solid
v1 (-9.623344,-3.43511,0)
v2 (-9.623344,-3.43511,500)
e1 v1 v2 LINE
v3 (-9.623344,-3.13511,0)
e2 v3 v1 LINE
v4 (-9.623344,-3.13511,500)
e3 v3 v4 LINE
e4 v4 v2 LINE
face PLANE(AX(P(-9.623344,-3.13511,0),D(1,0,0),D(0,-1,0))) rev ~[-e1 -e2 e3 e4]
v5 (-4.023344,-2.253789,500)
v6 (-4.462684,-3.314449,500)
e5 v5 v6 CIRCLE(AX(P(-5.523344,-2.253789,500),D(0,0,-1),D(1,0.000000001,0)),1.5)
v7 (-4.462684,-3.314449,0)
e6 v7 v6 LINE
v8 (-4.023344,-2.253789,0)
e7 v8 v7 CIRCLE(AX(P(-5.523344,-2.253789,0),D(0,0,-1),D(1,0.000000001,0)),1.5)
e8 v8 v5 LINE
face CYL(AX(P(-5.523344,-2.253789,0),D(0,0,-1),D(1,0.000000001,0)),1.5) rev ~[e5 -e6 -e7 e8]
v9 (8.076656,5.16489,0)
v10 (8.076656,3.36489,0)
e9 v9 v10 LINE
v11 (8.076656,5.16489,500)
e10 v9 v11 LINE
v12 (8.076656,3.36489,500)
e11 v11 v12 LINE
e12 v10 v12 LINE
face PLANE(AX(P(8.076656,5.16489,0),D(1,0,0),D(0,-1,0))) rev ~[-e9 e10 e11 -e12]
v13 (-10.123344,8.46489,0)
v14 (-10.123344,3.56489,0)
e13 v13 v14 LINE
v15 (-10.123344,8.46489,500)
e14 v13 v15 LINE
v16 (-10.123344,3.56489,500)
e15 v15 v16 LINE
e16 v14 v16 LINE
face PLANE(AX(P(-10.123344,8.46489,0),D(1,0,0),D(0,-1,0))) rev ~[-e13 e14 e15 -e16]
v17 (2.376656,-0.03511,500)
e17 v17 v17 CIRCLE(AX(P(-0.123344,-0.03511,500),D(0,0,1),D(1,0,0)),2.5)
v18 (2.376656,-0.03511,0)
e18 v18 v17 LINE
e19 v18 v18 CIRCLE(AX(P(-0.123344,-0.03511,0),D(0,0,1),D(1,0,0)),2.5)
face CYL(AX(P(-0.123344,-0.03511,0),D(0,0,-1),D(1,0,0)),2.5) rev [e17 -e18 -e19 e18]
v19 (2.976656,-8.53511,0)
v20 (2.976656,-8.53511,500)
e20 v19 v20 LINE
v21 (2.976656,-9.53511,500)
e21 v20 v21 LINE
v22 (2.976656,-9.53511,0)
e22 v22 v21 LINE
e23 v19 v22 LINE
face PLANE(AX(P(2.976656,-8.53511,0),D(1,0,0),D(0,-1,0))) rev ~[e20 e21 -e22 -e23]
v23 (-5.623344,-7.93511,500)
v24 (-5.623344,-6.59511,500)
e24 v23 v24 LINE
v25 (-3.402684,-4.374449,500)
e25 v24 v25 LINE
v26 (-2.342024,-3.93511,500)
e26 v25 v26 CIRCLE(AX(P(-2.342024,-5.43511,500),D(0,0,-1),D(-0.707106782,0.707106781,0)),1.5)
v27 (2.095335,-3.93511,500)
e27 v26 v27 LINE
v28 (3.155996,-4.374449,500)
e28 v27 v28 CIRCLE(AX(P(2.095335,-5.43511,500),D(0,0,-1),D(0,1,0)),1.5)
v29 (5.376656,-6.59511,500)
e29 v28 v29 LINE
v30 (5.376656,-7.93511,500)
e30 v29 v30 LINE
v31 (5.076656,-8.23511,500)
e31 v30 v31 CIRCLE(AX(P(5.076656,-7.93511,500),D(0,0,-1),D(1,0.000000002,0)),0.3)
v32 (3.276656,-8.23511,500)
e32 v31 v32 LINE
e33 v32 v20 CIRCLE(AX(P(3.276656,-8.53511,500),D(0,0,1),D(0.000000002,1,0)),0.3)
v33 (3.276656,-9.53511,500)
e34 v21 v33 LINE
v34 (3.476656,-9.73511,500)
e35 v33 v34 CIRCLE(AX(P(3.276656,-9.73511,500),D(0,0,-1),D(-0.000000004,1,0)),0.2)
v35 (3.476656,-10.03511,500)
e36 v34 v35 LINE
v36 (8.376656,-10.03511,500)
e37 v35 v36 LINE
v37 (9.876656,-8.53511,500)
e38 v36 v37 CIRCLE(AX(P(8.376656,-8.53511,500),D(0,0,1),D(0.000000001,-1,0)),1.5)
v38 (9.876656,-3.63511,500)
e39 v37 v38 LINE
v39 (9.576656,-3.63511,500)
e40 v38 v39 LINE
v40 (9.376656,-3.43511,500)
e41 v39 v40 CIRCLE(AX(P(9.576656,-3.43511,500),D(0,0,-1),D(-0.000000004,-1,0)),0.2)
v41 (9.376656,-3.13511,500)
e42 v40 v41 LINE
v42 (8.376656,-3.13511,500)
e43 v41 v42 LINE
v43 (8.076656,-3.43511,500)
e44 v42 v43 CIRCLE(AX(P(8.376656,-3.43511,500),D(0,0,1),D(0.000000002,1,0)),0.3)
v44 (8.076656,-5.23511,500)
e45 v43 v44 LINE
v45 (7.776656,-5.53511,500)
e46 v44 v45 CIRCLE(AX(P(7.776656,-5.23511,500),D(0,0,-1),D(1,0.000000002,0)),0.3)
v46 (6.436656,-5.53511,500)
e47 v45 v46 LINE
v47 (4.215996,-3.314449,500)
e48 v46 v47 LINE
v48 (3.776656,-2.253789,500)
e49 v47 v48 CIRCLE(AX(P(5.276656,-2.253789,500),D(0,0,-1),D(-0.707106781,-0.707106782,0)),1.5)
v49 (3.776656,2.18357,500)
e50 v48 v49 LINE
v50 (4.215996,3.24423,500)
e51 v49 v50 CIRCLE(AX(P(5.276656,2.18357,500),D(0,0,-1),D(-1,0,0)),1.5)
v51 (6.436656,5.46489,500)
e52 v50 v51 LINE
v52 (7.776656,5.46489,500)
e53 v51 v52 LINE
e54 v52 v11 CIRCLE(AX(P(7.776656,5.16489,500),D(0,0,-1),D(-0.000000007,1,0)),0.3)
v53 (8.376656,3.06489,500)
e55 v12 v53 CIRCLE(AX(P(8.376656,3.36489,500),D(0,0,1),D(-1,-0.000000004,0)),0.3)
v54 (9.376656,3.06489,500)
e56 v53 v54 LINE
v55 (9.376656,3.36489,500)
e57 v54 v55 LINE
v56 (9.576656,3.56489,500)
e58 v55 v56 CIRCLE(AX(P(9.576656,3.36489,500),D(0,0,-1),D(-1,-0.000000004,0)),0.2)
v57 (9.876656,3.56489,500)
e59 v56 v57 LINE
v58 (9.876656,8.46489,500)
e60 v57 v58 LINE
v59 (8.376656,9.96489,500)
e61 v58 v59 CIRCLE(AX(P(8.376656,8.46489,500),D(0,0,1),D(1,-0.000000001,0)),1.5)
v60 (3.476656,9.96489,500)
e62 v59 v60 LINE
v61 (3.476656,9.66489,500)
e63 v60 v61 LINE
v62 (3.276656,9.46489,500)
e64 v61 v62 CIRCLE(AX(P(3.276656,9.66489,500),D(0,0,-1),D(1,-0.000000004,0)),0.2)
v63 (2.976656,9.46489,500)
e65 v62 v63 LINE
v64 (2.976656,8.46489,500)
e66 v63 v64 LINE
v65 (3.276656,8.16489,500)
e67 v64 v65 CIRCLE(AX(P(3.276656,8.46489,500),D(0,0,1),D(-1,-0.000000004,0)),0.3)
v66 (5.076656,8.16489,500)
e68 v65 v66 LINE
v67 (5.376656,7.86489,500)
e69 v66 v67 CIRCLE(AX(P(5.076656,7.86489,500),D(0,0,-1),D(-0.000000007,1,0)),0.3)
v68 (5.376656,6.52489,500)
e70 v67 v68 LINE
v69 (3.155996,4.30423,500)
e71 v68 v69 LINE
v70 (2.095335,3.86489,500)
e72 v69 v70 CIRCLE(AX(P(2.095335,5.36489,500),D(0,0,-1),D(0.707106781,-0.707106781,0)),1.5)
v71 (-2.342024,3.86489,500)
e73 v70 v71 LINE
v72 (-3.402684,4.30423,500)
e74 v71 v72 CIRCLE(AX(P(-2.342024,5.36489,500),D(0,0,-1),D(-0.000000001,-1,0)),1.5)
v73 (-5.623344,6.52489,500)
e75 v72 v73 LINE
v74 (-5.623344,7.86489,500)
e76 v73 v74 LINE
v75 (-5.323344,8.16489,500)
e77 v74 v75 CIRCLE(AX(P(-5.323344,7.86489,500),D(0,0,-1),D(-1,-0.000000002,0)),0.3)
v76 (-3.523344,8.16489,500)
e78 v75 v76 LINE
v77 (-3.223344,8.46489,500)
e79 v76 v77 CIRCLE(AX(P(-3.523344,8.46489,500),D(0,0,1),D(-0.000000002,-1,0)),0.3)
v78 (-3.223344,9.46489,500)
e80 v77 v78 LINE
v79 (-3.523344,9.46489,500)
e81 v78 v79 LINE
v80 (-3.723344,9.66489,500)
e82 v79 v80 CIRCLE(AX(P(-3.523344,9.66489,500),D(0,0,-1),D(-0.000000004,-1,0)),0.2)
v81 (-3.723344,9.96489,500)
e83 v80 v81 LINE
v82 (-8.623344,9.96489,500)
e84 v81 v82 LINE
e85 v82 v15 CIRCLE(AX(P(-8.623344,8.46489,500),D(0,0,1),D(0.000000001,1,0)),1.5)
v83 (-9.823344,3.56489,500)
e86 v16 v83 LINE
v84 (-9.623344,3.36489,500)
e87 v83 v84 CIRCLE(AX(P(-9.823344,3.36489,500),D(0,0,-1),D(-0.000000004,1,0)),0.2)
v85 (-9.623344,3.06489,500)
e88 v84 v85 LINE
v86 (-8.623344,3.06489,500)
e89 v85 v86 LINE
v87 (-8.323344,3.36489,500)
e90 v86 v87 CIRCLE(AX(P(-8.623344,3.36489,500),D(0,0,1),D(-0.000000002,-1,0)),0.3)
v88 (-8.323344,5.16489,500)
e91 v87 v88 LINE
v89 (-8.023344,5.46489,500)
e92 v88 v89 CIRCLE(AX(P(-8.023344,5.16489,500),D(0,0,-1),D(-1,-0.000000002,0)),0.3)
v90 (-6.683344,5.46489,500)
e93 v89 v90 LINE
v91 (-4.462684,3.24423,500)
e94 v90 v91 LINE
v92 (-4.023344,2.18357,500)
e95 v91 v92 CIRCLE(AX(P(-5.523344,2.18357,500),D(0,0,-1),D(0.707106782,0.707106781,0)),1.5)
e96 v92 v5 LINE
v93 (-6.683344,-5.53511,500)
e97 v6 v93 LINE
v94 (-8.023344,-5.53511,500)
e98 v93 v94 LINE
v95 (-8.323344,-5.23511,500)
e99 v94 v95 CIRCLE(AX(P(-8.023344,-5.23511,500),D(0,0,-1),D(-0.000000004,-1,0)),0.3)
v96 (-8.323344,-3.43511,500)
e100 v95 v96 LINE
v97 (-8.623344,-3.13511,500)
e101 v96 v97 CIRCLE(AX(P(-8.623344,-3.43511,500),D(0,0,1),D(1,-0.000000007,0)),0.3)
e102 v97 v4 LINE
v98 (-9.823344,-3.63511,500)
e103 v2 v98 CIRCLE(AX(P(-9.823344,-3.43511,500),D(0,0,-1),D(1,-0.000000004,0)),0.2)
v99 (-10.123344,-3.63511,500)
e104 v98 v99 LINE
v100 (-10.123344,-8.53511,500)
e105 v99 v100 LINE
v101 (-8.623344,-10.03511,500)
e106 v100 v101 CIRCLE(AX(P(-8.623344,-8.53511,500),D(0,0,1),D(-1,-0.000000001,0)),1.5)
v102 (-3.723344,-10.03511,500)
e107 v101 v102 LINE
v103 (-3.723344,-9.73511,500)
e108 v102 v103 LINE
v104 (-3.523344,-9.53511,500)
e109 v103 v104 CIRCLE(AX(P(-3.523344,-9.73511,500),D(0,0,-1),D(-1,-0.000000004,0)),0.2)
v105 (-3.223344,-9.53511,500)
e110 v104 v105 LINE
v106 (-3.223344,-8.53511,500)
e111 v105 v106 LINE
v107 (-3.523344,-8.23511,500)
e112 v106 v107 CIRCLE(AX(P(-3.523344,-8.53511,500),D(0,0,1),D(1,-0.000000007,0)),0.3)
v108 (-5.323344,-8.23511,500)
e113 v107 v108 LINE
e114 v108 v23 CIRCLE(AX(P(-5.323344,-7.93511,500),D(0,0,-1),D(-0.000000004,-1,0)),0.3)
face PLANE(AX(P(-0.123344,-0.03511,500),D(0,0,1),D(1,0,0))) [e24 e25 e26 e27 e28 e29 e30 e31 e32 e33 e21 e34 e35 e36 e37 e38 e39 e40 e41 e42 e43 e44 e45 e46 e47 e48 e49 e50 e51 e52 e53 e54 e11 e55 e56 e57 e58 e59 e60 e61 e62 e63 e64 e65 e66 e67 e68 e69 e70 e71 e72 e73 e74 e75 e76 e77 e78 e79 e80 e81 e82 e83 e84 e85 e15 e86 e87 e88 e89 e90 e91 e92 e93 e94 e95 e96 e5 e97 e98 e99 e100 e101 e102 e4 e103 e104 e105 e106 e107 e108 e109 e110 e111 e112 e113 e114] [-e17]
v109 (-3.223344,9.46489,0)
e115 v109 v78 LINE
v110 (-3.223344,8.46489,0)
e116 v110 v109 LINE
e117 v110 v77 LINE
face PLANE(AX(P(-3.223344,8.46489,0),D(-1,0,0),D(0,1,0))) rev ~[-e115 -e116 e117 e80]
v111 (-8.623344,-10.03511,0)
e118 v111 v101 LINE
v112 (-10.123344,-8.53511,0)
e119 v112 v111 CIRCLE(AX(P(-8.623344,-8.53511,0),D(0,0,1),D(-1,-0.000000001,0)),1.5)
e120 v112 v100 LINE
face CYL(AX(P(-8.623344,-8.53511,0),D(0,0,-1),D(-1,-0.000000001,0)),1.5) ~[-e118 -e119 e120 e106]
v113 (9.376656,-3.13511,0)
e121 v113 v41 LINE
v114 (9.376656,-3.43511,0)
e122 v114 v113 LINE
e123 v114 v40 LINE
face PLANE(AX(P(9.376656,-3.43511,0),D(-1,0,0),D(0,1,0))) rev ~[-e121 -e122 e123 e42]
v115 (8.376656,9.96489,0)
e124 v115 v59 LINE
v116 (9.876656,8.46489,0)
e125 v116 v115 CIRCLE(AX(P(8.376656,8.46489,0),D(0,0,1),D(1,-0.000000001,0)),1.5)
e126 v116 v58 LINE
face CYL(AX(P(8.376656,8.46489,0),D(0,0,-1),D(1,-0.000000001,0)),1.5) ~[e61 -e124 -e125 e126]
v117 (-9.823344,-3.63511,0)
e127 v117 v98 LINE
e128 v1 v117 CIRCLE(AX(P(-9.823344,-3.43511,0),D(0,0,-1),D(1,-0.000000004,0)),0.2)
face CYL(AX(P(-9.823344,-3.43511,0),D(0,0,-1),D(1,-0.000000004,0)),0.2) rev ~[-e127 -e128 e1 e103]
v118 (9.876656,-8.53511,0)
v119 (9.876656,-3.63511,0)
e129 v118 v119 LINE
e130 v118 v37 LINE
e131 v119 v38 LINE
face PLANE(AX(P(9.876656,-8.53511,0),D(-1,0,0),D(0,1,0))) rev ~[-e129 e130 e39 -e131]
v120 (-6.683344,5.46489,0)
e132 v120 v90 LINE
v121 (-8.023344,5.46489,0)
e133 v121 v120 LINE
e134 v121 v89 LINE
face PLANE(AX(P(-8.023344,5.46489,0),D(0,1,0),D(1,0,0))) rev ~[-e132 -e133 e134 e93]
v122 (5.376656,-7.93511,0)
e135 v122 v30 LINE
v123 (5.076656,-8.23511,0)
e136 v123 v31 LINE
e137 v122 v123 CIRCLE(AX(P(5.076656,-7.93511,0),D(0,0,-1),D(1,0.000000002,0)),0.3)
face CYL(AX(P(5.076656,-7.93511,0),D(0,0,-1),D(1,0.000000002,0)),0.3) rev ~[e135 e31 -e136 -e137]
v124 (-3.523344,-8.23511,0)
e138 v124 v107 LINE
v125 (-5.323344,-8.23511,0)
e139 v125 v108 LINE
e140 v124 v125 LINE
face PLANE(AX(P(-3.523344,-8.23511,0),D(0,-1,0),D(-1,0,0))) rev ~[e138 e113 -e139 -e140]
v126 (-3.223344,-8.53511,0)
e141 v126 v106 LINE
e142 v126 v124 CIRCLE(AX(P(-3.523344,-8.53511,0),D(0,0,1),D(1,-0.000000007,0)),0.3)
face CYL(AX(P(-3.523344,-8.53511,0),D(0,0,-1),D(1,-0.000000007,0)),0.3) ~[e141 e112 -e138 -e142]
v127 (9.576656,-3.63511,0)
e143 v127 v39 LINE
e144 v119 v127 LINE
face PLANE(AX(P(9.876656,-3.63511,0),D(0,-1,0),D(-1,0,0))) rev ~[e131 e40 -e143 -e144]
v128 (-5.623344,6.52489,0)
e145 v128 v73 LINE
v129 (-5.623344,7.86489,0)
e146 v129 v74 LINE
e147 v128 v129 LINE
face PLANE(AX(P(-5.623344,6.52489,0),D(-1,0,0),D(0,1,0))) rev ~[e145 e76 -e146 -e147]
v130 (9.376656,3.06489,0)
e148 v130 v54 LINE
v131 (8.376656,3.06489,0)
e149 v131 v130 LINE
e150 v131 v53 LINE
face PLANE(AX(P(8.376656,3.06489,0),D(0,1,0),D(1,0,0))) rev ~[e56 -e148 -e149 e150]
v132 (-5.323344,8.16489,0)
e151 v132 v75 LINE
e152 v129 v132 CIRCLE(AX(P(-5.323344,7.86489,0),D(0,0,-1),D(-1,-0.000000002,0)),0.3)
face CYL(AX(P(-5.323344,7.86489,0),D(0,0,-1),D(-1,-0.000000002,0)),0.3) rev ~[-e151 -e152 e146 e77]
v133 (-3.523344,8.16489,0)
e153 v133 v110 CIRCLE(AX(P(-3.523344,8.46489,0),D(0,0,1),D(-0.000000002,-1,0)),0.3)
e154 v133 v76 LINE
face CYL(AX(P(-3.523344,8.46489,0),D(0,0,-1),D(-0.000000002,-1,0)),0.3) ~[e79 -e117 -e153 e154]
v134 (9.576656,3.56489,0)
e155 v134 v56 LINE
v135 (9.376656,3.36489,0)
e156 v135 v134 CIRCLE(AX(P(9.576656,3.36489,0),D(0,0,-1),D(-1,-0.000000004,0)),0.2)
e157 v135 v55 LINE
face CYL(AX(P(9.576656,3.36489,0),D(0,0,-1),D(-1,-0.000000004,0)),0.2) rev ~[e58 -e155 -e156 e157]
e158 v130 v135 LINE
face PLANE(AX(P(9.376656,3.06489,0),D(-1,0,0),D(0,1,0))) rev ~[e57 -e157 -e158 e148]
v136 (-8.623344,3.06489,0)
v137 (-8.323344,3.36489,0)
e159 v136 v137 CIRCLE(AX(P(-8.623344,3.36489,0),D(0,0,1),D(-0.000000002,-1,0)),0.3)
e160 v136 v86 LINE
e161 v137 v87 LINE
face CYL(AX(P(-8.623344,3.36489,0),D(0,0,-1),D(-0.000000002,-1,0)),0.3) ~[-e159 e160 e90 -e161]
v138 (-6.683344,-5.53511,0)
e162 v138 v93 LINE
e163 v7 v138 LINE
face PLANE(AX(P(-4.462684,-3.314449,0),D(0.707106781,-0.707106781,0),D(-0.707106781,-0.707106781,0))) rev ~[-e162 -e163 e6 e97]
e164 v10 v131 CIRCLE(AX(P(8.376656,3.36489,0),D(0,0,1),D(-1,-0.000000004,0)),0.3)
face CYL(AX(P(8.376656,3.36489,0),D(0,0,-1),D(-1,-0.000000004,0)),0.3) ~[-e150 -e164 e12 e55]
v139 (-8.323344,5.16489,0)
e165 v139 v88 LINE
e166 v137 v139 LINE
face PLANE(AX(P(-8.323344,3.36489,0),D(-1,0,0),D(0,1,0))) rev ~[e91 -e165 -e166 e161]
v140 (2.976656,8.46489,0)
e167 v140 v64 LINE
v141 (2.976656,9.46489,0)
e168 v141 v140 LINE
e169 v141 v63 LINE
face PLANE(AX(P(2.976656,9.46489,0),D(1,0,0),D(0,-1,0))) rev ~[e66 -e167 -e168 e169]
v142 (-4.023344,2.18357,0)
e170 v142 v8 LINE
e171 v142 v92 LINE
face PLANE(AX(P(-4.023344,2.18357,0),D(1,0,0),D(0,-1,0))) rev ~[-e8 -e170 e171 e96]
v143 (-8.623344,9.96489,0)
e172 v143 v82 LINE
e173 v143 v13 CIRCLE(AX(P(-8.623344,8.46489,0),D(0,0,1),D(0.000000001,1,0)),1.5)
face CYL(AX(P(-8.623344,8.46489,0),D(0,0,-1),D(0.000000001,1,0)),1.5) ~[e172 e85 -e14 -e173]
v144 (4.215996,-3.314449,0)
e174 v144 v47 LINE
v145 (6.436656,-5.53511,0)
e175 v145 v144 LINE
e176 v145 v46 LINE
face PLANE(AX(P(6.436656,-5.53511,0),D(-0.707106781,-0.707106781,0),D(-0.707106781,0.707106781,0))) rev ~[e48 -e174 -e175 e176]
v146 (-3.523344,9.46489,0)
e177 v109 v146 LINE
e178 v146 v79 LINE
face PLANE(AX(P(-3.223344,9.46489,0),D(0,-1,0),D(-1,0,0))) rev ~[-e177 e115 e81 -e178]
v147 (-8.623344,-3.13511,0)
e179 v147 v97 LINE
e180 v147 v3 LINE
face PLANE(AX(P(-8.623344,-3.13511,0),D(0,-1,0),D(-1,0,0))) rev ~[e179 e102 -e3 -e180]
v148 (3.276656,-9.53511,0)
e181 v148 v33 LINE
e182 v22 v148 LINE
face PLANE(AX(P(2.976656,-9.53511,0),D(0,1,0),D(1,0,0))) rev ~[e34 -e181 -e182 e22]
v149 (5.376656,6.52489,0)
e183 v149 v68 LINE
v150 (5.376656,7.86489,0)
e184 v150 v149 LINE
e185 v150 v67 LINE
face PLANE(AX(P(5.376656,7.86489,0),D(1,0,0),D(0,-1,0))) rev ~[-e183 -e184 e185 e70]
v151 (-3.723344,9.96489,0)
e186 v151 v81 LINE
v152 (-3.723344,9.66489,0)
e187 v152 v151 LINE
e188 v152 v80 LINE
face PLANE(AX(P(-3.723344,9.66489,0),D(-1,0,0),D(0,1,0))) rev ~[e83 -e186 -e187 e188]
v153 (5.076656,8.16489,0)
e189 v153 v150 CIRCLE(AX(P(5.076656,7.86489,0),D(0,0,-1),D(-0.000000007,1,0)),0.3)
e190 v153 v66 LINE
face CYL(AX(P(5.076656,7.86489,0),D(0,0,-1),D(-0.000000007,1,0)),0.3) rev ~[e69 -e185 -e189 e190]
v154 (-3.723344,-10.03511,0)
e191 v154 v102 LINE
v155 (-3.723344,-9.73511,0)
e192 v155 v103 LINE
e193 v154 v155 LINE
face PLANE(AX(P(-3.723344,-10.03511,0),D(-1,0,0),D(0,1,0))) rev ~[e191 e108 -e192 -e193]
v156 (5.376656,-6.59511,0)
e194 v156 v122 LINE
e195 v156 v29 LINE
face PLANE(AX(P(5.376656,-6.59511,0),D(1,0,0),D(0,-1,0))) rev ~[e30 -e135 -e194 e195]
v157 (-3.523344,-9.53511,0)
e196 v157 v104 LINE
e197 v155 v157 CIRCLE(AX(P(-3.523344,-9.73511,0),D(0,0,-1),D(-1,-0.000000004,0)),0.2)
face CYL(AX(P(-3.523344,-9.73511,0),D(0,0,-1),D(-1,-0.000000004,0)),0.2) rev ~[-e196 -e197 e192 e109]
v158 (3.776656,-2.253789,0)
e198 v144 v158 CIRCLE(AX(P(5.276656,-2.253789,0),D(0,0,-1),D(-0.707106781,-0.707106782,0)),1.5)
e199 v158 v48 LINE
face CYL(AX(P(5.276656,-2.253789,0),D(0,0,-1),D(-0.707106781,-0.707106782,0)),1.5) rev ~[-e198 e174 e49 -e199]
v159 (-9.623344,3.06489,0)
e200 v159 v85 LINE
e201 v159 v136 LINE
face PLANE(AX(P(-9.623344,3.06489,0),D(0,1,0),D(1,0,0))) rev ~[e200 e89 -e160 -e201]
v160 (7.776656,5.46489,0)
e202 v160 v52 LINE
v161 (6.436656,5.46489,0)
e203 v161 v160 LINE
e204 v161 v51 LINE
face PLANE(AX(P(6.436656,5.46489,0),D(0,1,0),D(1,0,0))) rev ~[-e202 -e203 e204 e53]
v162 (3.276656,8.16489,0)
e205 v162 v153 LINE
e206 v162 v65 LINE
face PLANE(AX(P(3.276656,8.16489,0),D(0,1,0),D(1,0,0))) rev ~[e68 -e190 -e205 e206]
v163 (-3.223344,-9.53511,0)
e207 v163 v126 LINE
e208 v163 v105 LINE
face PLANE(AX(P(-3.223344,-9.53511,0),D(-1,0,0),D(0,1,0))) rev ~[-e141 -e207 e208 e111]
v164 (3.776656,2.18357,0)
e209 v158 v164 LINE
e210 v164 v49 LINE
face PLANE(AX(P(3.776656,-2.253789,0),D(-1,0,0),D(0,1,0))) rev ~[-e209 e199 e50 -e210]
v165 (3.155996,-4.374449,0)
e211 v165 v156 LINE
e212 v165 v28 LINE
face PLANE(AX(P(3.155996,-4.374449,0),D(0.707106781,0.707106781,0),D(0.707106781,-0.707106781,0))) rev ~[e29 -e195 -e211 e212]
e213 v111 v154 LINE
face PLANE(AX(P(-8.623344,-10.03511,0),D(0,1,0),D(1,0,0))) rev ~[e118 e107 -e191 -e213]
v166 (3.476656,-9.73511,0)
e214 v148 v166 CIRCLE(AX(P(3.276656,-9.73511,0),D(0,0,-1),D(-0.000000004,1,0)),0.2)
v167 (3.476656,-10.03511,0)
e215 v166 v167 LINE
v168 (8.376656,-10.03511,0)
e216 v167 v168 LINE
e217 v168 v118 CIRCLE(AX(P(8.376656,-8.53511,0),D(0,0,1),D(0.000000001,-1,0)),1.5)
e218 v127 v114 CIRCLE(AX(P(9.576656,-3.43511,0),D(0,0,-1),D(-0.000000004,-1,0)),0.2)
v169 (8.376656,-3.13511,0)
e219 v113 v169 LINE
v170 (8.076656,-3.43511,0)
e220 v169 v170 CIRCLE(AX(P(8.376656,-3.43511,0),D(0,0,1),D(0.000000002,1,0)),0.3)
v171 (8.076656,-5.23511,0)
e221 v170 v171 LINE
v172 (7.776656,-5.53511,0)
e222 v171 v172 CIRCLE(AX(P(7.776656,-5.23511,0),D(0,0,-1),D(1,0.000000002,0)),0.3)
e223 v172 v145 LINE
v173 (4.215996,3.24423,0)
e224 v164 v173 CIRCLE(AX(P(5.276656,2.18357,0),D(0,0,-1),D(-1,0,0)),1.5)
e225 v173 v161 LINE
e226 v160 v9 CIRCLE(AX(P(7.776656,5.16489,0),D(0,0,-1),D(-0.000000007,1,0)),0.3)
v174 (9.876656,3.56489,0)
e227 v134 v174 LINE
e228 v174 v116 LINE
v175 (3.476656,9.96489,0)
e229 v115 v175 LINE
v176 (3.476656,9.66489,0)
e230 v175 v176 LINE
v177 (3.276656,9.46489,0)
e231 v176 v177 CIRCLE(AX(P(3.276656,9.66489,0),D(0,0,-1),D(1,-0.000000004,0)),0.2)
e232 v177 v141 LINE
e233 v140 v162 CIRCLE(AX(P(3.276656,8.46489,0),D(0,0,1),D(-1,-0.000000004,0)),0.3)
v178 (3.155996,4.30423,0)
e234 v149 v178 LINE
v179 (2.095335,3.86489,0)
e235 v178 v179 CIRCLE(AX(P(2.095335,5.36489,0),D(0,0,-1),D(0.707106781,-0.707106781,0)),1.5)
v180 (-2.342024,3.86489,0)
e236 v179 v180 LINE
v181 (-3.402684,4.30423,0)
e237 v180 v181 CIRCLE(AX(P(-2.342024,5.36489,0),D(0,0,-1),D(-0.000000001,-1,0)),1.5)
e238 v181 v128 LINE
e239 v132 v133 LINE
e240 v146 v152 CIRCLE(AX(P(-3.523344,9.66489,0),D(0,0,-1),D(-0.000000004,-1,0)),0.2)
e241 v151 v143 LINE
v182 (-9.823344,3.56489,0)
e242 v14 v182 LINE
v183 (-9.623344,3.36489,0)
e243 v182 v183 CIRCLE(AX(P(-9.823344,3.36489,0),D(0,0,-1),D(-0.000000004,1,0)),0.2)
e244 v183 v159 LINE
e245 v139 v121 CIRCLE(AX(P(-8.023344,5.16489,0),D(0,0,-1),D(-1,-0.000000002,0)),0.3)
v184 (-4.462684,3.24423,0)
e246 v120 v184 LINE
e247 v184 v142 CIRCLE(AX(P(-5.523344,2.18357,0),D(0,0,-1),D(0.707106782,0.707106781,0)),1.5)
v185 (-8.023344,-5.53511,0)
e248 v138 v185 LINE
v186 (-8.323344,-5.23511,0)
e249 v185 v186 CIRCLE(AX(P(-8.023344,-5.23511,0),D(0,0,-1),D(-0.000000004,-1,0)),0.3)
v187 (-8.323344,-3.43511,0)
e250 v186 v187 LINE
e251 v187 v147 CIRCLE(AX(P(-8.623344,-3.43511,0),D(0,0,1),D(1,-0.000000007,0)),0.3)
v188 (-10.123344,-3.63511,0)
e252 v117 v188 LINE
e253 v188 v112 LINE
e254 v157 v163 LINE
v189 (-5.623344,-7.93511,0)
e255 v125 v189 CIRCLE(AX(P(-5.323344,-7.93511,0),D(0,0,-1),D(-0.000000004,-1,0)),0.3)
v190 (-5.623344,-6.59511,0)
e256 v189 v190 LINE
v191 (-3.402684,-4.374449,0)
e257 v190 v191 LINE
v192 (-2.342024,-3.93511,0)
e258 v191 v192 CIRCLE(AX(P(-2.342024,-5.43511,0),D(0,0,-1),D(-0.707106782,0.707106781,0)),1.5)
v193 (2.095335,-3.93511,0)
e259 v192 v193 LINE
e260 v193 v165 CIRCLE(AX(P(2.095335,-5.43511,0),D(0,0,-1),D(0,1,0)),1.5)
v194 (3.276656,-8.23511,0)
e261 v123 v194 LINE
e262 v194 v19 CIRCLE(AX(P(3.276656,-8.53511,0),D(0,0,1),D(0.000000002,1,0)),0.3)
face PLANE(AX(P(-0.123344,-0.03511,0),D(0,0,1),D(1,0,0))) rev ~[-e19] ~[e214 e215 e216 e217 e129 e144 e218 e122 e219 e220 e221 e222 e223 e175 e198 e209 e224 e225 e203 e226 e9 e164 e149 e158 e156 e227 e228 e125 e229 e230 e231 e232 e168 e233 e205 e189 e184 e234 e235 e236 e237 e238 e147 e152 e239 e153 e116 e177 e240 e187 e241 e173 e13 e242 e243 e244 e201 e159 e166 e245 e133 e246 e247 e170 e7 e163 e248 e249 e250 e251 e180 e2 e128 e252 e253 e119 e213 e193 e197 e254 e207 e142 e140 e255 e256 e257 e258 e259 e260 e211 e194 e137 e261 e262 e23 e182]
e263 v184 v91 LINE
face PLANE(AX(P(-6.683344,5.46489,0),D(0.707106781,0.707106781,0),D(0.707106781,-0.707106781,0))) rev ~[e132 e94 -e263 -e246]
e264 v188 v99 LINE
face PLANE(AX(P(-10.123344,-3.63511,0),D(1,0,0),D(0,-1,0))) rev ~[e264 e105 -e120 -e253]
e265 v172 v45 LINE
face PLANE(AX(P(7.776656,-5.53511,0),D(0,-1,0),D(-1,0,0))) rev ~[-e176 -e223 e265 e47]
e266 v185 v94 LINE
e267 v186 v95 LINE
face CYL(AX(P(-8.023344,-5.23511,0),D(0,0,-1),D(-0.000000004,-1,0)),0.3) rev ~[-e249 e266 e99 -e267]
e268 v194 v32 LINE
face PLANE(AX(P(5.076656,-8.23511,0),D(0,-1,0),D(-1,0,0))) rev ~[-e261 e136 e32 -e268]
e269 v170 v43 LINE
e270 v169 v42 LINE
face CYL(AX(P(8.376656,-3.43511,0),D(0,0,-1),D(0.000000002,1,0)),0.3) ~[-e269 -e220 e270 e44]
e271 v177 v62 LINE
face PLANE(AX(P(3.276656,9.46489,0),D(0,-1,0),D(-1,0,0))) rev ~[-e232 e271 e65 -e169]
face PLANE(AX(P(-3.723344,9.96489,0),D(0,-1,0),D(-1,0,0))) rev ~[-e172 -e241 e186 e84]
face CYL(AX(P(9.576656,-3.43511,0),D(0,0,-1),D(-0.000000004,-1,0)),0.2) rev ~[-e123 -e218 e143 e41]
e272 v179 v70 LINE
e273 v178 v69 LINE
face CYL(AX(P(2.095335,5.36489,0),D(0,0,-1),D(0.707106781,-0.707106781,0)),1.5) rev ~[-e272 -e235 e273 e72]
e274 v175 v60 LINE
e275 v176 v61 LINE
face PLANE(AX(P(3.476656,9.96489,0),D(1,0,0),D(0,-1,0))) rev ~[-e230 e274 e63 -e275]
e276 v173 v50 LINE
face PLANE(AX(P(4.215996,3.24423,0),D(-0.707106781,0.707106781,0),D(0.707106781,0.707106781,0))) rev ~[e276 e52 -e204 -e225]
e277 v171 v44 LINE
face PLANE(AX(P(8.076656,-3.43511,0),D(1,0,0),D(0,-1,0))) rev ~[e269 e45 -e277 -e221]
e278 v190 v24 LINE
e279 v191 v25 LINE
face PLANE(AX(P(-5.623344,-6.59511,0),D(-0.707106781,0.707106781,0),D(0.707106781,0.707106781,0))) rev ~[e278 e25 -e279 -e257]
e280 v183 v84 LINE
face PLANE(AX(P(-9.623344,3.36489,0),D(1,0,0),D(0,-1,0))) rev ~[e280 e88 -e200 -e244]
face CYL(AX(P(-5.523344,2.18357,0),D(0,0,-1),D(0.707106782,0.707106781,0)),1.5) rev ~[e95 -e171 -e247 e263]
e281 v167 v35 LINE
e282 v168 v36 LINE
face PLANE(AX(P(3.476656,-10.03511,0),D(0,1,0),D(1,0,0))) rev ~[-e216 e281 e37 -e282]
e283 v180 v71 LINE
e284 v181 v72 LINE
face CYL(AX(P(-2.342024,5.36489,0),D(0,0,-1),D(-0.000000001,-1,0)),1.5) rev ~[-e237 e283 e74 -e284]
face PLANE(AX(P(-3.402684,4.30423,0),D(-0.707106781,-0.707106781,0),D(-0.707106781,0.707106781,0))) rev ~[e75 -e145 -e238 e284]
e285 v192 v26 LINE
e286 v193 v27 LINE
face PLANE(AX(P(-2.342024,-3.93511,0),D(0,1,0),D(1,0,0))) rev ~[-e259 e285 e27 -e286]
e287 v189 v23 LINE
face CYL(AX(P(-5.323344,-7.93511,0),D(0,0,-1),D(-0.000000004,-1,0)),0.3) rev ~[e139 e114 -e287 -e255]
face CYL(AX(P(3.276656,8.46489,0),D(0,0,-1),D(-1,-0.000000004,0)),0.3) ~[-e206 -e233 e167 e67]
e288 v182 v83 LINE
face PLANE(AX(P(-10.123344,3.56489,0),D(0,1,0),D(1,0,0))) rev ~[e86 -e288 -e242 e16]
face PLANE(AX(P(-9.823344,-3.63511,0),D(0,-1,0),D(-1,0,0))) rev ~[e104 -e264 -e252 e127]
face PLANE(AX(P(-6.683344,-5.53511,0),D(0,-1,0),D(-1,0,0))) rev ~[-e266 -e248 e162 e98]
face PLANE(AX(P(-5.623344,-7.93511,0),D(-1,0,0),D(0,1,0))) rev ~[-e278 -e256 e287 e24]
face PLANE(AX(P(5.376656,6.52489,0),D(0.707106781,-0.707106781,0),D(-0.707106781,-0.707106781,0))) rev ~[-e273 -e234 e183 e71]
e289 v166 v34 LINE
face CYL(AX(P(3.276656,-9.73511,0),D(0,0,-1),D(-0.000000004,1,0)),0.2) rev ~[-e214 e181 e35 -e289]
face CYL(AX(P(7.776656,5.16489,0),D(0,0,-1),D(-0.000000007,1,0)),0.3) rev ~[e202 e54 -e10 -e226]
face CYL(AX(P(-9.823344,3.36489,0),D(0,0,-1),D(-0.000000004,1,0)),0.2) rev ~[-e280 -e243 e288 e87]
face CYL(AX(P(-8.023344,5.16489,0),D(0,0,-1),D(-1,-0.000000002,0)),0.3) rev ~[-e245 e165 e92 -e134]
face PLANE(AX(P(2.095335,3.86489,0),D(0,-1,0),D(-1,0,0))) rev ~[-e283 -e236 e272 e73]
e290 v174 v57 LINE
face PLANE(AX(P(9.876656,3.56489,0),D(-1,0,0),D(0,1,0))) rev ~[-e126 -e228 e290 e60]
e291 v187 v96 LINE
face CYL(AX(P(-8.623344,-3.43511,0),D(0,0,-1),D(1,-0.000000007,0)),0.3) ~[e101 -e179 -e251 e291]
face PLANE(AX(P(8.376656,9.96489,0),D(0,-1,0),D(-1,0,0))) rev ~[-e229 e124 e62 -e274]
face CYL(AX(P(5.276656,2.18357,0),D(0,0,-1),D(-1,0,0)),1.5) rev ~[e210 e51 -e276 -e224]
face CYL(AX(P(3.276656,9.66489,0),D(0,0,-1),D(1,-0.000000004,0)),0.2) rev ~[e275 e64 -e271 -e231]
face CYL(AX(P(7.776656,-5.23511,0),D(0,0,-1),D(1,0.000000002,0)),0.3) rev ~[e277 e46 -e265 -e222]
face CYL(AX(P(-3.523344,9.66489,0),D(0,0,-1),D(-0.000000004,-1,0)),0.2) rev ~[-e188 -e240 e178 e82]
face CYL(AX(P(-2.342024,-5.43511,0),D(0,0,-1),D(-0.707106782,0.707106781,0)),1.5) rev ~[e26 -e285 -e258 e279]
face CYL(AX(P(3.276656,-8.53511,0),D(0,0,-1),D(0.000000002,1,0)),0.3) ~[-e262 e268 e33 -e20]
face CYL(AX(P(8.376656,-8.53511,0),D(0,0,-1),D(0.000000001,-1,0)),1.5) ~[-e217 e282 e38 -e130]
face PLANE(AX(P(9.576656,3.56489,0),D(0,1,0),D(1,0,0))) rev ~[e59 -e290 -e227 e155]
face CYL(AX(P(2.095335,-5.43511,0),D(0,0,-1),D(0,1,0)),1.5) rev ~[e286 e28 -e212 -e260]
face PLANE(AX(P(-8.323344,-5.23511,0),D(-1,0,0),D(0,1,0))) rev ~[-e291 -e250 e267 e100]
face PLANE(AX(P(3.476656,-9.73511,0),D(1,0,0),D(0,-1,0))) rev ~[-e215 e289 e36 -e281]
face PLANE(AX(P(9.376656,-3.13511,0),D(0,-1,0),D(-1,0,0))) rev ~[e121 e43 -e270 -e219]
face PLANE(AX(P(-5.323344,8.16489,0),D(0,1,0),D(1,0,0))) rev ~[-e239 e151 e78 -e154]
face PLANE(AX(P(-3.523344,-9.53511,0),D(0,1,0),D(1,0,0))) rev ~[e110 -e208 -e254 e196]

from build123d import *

# Parameters (mm, degrees)
SKETCH_1_R      = 2.5
EXTRUDE_1_DEPTH = 500


with BuildPart() as part:
    # 草图1 → 凸台-拉伸1 (new body)
    with BuildSketch(Plane.XY):
        with BuildLine():
            Line((4.215995631, 3.244230202), (6.436655803, 5.464890373))
            Line((6.436655803, 5.464890373), (7.776655803, 5.464890373))
            ThreePointArc((7.776655803, 5.464890373), (7.988787838, 5.377022408), (8.076655803, 5.164890373))
            Line((8.076655803, 5.164890373), (8.076655803, 3.364890373))
            ThreePointArc((8.076655803, 3.364890373), (8.164523769, 3.152758339), (8.376655803, 3.064890373))
            Line((8.376655803, 3.064890373), (9.376655803, 3.064890373))
            Line((9.376655803, 3.064890373), (9.376655803, 3.364890373))
            ThreePointArc((9.376655803, 3.364890373), (9.435234447, 3.50631173), (9.576655803, 3.564890373))
            Line((9.576655803, 3.564890373), (9.876655803, 3.564890373))
            Line((9.876655803, 3.564890373), (9.876655803, 8.464890373))
            ThreePointArc((9.876655803, 8.464890373), (9.437315975, 9.525550545), (8.376655803, 9.964890373))
            Line((8.376655803, 9.964890373), (3.476655803, 9.964890373))
            Line((3.476655803, 9.964890373), (3.476655803, 9.664890373))
            ThreePointArc((3.476655803, 9.664890373), (3.418077159, 9.523469017), (3.276655803, 9.464890373))
            Line((3.276655803, 9.464890373), (2.976655803, 9.464890373))
            Line((2.976655803, 9.464890373), (2.976655803, 8.464890373))
            ThreePointArc((2.976655803, 8.464890373), (3.064523769, 8.252758339), (3.276655803, 8.164890373))
            Line((3.276655803, 8.164890373), (5.076655803, 8.164890373))
            ThreePointArc((5.076655803, 8.164890373), (5.288787838, 8.077022408), (5.376655803, 7.864890373))
            Line((5.376655803, 7.864890373), (5.376655803, 6.524890373))
            Line((5.376655803, 6.524890373), (3.155995631, 4.304230202))
            ThreePointArc((3.155995631, 4.304230202), (2.669360608, 3.979071075), (2.09533546, 3.864890373))
            Line((2.09533546, 3.864890373), (-2.342023853, 3.864890373))
            ThreePointArc((-2.342023853, 3.864890373), (-2.916049002, 3.979071075), (-3.402684025, 4.304230202))
            Line((-3.402684025, 4.304230202), (-5.623344197, 6.524890373))
            Line((-5.623344197, 6.524890373), (-5.623344197, 7.864890373))
            ThreePointArc((-5.623344197, 7.864890373), (-5.535476231, 8.077022408), (-5.323344197, 8.164890373))
            Line((-5.323344197, 8.164890373), (-3.523344197, 8.164890373))
            ThreePointArc((-3.523344197, 8.164890373), (-3.311212162, 8.252758339), (-3.223344197, 8.464890373))
            Line((-3.223344197, 8.464890373), (-3.223344197, 9.464890373))
            Line((-3.223344197, 9.464890373), (-3.523344197, 9.464890373))
            ThreePointArc((-3.523344197, 9.464890373), (-3.664765553, 9.523469017), (-3.723344197, 9.664890373))
            Line((-3.723344197, 9.664890373), (-3.723344197, 9.964890373))
            Line((-3.723344197, 9.964890373), (-8.623344197, 9.964890373))
            ThreePointArc((-8.623344197, 9.964890373), (-9.684004369, 9.525550545), (-10.123344197, 8.464890373))
            Line((-10.123344197, 8.464890373), (-10.123344197, 3.564890373))
            Line((-10.123344197, 3.564890373), (-9.823344197, 3.564890373))
            ThreePointArc((-9.823344197, 3.564890373), (-9.681922841, 3.50631173), (-9.623344197, 3.364890373))
            Line((-9.623344197, 3.364890373), (-9.623344197, 3.064890373))
            Line((-9.623344197, 3.064890373), (-8.623344197, 3.064890373))
            ThreePointArc((-8.623344197, 3.064890373), (-8.411212162, 3.152758339), (-8.323344197, 3.364890373))
            Line((-8.323344197, 3.364890373), (-8.323344197, 5.164890373))
            ThreePointArc((-8.323344197, 5.164890373), (-8.235476231, 5.377022408), (-8.023344197, 5.464890373))
            Line((-8.023344197, 5.464890373), (-6.683344197, 5.464890373))
            Line((-6.683344197, 5.464890373), (-4.462684025, 3.244230202))
            ThreePointArc((-4.462684025, 3.244230202), (-4.137524898, 2.757595178), (-4.023344197, 2.18357003))
            Line((-4.023344197, 2.18357003), (-4.023344197, -2.253789283))
            ThreePointArc((-4.023344197, -2.253789283), (-4.137524898, -2.827814432), (-4.462684025, -3.314449455))
            Line((-4.462684025, -3.314449455), (-6.683344197, -5.535109627))
            Line((-6.683344197, -5.535109627), (-8.023344197, -5.535109627))
            ThreePointArc((-8.023344197, -5.535109627), (-8.235476231, -5.447241661), (-8.323344197, -5.235109627))
            Line((-8.323344197, -5.235109627), (-8.323344197, -3.435109627))
            ThreePointArc((-8.323344197, -3.435109627), (-8.411212162, -3.222977592), (-8.623344197, -3.135109627))
            Line((-8.623344197, -3.135109627), (-9.623344197, -3.135109627))
            Line((-9.623344197, -3.135109627), (-9.623344197, -3.435109627))
            ThreePointArc((-9.623344197, -3.435109627), (-9.681922841, -3.576530983), (-9.823344197, -3.635109627))
            Line((-9.823344197, -3.635109627), (-10.123344197, -3.635109627))
            Line((-10.123344197, -3.635109627), (-10.123344197, -8.535109627))
            ThreePointArc((-10.123344197, -8.535109627), (-9.684004369, -9.595769798), (-8.623344197, -10.035109627))
            Line((-8.623344197, -10.035109627), (-3.723344197, -10.035109627))
            Line((-3.723344197, -10.035109627), (-3.723344197, -9.735109627))
            ThreePointArc((-3.723344197, -9.735109627), (-3.664765553, -9.59368827), (-3.523344197, -9.535109627))
            Line((-3.523344197, -9.535109627), (-3.223344197, -9.535109627))
            Line((-3.223344197, -9.535109627), (-3.223344197, -8.535109627))
            ThreePointArc((-3.223344197, -8.535109627), (-3.311212162, -8.322977592), (-3.523344197, -8.235109627))
            Line((-3.523344197, -8.235109627), (-5.323344197, -8.235109627))
            ThreePointArc((-5.323344197, -8.235109627), (-5.535476231, -8.147241661), (-5.623344197, -7.935109627))
            Line((-5.623344197, -7.935109627), (-5.623344197, -6.595109627))
            Line((-5.623344197, -6.595109627), (-3.402684025, -4.374449455))
            ThreePointArc((-3.402684025, -4.374449455), (-2.916049002, -4.049290328), (-2.342023853, -3.935109627))
            Line((-2.342023853, -3.935109627), (2.09533546, -3.935109627))
            ThreePointArc((2.09533546, -3.935109627), (2.669360608, -4.049290328), (3.155995631, -4.374449455))
            Line((3.155995631, -4.374449455), (5.376655803, -6.595109627))
            Line((5.376655803, -6.595109627), (5.376655803, -7.935109627))
            ThreePointArc((5.376655803, -7.935109627), (5.288787838, -8.147241661), (5.076655803, -8.235109627))
            Line((5.076655803, -8.235109627), (3.276655803, -8.235109627))
            ThreePointArc((3.276655803, -8.235109627), (3.064523769, -8.322977592), (2.976655803, -8.535109627))
            Line((2.976655803, -8.535109627), (2.976655803, -9.535109627))
            Line((2.976655803, -9.535109627), (3.276655803, -9.535109627))
            ThreePointArc((3.276655803, -9.535109627), (3.418077159, -9.59368827), (3.476655803, -9.735109627))
            Line((3.476655803, -9.735109627), (3.476655803, -10.035109627))
            Line((3.476655803, -10.035109627), (8.376655803, -10.035109627))
            ThreePointArc((8.376655803, -10.035109627), (9.437315975, -9.595769798), (9.876655803, -8.535109627))
            Line((9.876655803, -8.535109627), (9.876655803, -3.635109627))
            Line((9.876655803, -3.635109627), (9.576655803, -3.635109627))
            ThreePointArc((9.576655803, -3.635109627), (9.435234447, -3.576530983), (9.376655803, -3.435109627))
            Line((9.376655803, -3.435109627), (9.376655803, -3.135109627))
            Line((9.376655803, -3.135109627), (8.376655803, -3.135109627))
            ThreePointArc((8.376655803, -3.135109627), (8.164523769, -3.222977592), (8.076655803, -3.435109627))
            Line((8.076655803, -3.435109627), (8.076655803, -5.235109627))
            ThreePointArc((8.076655803, -5.235109627), (7.988787838, -5.447241661), (7.776655803, -5.535109627))
            Line((7.776655803, -5.535109627), (6.436655803, -5.535109627))
            Line((6.436655803, -5.535109627), (4.215995631, -3.314449455))
            ThreePointArc((4.215995631, -3.314449455), (3.890836504, -2.827814432), (3.776655803, -2.253789283))
            Line((3.776655803, -2.253789283), (3.776655803, 2.18357003))
            ThreePointArc((3.776655803, 2.18357003), (3.890836504, 2.757595178), (4.215995631, 3.244230202))
        make_face()
        with Locations((-0.123344197, -0.035109627)):
            Circle(SKETCH_1_R, mode=Mode.SUBTRACT)
    extrude(amount=EXTRUDE_1_DEPTH)


solid = part.part
